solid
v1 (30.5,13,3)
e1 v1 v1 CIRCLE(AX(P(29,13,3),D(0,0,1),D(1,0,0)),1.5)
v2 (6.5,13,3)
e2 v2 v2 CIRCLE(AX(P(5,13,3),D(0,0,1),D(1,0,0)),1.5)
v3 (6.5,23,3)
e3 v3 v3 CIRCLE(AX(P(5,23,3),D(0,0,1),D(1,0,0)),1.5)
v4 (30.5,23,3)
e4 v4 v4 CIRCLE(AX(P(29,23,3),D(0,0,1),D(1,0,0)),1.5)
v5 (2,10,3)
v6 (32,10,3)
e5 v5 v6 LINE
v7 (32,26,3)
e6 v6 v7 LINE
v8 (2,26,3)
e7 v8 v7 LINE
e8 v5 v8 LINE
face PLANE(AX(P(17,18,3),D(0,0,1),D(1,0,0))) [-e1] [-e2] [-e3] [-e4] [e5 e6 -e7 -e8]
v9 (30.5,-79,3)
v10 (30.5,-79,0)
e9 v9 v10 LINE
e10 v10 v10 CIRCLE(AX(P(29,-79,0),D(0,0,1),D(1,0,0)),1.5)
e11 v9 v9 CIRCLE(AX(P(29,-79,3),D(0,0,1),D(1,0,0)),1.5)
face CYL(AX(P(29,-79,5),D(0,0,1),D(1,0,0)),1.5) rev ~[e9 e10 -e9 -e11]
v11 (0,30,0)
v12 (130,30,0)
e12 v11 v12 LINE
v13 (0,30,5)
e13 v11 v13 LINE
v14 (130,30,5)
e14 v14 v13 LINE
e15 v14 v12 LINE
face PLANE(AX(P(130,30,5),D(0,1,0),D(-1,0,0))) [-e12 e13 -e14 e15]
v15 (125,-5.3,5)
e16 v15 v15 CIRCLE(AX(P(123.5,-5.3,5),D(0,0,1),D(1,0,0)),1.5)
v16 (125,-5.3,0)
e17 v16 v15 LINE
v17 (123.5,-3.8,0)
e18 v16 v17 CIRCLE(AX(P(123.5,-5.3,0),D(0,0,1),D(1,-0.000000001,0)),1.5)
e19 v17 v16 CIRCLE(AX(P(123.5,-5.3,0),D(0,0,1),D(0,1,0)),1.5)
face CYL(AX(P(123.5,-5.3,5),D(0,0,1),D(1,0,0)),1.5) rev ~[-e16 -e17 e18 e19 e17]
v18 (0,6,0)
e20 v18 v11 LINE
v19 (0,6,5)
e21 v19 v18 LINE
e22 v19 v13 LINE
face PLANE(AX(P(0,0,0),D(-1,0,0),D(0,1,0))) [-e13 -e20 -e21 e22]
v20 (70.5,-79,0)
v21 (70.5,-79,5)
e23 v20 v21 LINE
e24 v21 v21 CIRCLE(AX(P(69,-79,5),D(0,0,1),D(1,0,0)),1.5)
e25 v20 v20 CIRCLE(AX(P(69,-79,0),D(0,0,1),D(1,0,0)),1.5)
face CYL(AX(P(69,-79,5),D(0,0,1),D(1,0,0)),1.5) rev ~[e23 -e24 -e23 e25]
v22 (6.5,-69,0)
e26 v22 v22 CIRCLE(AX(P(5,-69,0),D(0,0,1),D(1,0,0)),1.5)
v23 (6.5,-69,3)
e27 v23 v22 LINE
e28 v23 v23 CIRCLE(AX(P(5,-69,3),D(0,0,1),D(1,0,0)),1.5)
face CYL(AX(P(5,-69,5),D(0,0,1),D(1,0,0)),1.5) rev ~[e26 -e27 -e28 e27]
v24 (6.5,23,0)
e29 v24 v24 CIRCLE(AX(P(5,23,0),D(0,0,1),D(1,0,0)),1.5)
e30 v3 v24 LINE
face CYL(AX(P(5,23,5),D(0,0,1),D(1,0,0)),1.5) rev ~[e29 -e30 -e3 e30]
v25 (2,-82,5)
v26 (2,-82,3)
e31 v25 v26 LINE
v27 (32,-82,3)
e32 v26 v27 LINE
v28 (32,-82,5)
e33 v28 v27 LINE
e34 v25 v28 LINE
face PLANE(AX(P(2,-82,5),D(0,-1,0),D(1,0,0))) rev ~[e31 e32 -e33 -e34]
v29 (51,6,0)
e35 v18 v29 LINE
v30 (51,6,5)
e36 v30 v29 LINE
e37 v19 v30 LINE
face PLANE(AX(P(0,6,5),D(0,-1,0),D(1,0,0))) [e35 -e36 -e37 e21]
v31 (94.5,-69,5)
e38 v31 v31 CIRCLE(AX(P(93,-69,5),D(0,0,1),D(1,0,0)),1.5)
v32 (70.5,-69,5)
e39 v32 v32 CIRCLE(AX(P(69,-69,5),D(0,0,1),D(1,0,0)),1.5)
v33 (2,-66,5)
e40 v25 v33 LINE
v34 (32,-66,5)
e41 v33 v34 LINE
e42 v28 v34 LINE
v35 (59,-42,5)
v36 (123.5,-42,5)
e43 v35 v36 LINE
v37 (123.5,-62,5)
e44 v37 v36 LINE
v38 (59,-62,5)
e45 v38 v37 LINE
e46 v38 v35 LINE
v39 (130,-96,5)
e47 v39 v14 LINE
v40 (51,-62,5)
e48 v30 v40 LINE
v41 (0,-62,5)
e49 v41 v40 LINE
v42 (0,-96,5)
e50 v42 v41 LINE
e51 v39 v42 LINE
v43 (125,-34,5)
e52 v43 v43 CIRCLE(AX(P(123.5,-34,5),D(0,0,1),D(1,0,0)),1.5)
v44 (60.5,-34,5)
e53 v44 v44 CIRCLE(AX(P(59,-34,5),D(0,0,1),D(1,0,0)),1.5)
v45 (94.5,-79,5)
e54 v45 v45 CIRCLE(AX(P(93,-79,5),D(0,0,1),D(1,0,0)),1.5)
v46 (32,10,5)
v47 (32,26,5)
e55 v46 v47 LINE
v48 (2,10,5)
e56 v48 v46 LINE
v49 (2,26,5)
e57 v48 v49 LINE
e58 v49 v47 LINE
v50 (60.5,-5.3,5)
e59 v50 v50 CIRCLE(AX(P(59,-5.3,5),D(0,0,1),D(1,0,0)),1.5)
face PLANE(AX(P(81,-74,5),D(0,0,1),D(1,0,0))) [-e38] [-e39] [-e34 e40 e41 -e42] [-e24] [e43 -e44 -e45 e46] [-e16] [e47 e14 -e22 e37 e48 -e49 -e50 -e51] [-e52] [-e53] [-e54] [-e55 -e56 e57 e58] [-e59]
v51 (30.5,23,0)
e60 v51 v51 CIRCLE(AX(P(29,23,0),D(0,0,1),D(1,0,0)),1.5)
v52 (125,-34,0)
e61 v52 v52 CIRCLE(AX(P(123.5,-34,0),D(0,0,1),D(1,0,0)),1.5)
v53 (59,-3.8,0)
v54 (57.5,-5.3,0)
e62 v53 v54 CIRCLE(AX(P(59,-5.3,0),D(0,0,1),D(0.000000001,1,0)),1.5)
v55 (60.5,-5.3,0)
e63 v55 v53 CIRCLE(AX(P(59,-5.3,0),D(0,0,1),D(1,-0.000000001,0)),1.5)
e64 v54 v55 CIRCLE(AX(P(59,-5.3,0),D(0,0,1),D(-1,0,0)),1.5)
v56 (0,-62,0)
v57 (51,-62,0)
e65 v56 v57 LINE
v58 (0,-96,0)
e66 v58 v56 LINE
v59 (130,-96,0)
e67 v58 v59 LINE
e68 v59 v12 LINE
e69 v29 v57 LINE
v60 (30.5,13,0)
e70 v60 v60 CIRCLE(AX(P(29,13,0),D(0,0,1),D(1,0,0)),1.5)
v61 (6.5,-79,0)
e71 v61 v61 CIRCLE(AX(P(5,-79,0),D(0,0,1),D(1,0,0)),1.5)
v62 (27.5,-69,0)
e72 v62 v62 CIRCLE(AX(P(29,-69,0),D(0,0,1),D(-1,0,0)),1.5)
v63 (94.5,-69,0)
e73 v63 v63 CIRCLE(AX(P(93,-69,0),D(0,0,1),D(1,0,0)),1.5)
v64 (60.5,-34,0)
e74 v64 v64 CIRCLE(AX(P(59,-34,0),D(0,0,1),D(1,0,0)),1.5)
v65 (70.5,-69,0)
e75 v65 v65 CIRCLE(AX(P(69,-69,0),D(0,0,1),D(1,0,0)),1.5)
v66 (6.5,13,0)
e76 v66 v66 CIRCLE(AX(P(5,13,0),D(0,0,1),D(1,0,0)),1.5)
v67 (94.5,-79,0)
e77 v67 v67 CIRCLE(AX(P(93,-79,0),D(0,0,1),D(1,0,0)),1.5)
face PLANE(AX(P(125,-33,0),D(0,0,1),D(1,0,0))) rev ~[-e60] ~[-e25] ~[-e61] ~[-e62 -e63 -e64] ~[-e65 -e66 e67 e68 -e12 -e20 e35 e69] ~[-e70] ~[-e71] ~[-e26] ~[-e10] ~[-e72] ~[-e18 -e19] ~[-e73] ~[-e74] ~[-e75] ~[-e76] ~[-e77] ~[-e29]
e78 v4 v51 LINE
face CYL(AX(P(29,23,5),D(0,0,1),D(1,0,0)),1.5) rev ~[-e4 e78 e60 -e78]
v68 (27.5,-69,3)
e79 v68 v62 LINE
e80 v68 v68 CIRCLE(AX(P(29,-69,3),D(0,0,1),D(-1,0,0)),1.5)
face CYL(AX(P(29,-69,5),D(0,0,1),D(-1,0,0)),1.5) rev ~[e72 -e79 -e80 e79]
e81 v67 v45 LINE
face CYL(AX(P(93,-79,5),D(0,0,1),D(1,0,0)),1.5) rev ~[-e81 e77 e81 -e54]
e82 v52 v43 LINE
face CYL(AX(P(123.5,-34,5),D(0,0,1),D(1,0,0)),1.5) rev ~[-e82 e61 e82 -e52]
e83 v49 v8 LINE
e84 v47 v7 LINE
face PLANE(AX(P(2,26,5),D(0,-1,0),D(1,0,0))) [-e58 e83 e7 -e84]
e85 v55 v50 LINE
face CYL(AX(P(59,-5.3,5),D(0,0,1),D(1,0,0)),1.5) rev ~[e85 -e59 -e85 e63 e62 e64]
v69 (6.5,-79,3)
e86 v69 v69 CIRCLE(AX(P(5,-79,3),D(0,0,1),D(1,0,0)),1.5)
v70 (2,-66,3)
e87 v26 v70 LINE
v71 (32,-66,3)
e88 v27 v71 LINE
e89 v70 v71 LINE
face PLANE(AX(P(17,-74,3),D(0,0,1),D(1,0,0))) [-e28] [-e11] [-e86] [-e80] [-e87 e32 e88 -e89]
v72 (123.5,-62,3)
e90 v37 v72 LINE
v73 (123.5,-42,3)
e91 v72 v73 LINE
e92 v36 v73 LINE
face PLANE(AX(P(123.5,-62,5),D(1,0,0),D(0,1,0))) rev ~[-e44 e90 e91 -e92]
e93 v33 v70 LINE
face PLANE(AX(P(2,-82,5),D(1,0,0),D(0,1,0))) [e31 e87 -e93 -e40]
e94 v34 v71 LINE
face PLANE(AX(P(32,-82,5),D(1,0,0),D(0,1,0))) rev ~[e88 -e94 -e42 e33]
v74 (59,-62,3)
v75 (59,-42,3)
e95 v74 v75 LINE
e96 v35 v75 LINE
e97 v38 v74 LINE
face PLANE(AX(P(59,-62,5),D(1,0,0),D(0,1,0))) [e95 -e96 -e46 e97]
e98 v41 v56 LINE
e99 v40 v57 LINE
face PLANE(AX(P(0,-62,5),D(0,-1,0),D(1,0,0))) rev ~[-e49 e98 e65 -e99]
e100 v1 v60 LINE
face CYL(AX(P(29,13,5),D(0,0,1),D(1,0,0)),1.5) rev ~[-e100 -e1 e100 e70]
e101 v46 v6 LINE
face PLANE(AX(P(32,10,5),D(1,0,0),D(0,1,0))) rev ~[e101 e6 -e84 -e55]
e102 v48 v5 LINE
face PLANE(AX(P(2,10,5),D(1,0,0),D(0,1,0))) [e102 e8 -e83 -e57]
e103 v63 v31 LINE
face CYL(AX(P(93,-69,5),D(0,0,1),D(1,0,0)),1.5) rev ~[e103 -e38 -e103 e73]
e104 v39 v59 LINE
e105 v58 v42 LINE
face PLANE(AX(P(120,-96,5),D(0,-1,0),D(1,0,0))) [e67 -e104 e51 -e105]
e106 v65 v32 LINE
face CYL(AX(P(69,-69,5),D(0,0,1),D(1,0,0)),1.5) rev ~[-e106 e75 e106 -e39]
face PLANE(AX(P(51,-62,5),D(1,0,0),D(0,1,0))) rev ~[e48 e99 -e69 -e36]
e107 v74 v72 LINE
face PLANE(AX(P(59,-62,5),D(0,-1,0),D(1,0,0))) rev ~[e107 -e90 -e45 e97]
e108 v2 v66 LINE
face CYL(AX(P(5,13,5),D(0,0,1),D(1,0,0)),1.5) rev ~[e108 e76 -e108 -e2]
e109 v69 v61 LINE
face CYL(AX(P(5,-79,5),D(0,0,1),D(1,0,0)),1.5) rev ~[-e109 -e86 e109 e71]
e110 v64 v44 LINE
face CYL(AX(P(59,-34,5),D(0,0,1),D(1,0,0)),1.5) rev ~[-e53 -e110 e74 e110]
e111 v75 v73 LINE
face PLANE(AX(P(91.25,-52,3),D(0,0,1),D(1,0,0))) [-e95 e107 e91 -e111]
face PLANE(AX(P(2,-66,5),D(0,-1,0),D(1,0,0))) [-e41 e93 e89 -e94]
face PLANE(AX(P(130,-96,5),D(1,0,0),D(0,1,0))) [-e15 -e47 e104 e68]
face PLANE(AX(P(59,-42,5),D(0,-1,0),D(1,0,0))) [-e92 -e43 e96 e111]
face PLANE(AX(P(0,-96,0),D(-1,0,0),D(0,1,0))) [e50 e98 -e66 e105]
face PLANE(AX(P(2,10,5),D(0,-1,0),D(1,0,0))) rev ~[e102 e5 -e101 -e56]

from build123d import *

# Parameters (mm, degrees)
EXTRUDE_2_DEPTH      = 5
SKETCH_3_W           = 30
SKETCH_3_H           = 16.1
CUT_EXTRUDE_1_DEPTH  = 2
CUT_EXTRUDE_2_REACH  = 155.704
SKETCH_4_R           = 1.55
CUT_EXTRUDE_3_REACH  = 155.756
SKETCH_5_W           = 32
SKETCH_5_H           = 56
SKETCH_7_W           = 40.5
SKETCH_7_H           = 40.5
EXTRUDE_4_DEPTH      = 2
SKETCH_8_W           = 30.5
SKETCH_8_H           = 16.5
CUT_EXTRUDE_4_DEPTH  = 2
SKETCH_9_R           = 1.55
CUT_EXTRUDE_6_DEPTH  = 154.727030805
SKETCH_10_W          = 60
SKETCH_10_H          = 45
EXTRUDE_5_DEPTH      = 2
SKETCH_11_W          = 60
SKETCH_11_H          = 45
CUT_EXTRUDE_8_DEPTH  = 2
SKETCH_12_W          = 30
SKETCH_12_H          = 16.1
SKETCH_12_W_2        = 30.5
SKETCH_12_H_2        = 16.5
EXTRUDE_6_DEPTH      = 5
SKETCH_13_R          = 1.5
CUT_EXTRUDE_10_DEPTH = 5
SKETCH_14_W          = 30
SKETCH_14_H          = 16
CUT_EXTRUDE_11_DEPTH = 2
SKETCH_15_W          = 53
SKETCH_15_H          = 60
SKETCH_15_W_2        = 49
SKETCH_15_H_2        = 56
CUT_EXTRUDE_12_DEPTH = 5
SKETCH_16_W          = 30
SKETCH_16_H          = 16
CUT_EXTRUDE_13_DEPTH = 2
SKETCH_17_R          = 1.5
CUT_EXTRUDE_15_DEPTH = 154.704261489
EXTRUDE_7_DEPTH      = 5
SKETCH_19_W          = 30
SKETCH_19_H          = 16
EXTRUDE_8_DEPTH      = 5
SKETCH_20_W          = 72
SKETCH_20_H          = 36.7
SKETCH_20_W_2        = 30
SKETCH_20_H_2        = 16
CUT_EXTRUDE_17_DEPTH = 2
SKETCH_21_R          = 1.5
CUT_EXTRUDE_18_DEPTH = 162.632298752
SKETCH_22_R          = 1.5
EXTRUDE_10_DEPTH     = 3
SKETCH_23_R          = 1.5
CUT_EXTRUDE_19_DEPTH = 162.632298752
SKETCH_24_W          = 72
SKETCH_24_H          = 36.7
SKETCH_24_R          = 1.5
EXTRUDE_11_DEPTH     = 5
SKETCH_26_W          = 30
SKETCH_26_H          = 16
SKETCH_26_R          = 1.5
EXTRUDE_12_DEPTH     = 5
SKETCH_27_W          = 51
SKETCH_27_H          = 4
CUT_EXTRUDE_22_DEPTH = 5
SKETCH_29_W          = 64.5
SKETCH_29_H          = 20
CUT_EXTRUDE_24_DEPTH = 2


with BuildPart() as part:
    # 草图1 → 凸台-拉伸2 (new body)
    with BuildSketch(Plane.XY):
        Polygon((0, 0), (0, 30), (120, 30), (120, -96), (0, -96), (0, -56), (45, -56), (45, 0), align=None)
    extrude(amount=EXTRUDE_2_DEPTH)

    # 草图3 → 切除-拉伸1 (cut)
    with BuildSketch(Plane.XY.offset(5)):
        with Locations((17, 10)):
            Rectangle(SKETCH_3_W, SKETCH_3_H)
        with Locations((17, -66)):
            Rectangle(SKETCH_3_W, SKETCH_3_H)
    extrude(amount=-CUT_EXTRUDE_1_DEPTH, mode=Mode.SUBTRACT)

    # 草图4 → 切除-拉伸2 (cut, up to next)
    with BuildSketch(Plane.XY.offset(3), mode=Mode.PRIVATE) as cut_extrude_2_sk1:
        with Locations((29, 15)):
            Circle(SKETCH_4_R)
    cut_extrude_2_tool1 = extrude(cut_extrude_2_sk1.sketch, amount=-CUT_EXTRUDE_2_REACH, mode=Mode.PRIVATE) & part.part
    # 草图4 → 切除-拉伸2 (cut, up to next)
    with BuildSketch(Plane.XY.offset(3), mode=Mode.PRIVATE) as cut_extrude_2_sk2:
        with Locations((29, 5)):
            Circle(SKETCH_4_R)
    cut_extrude_2_tool2 = extrude(cut_extrude_2_sk2.sketch, amount=-CUT_EXTRUDE_2_REACH, mode=Mode.PRIVATE) & part.part
    # 草图4 → 切除-拉伸2 (cut, up to next)
    with BuildSketch(Plane.XY.offset(3), mode=Mode.PRIVATE) as cut_extrude_2_sk3:
        with BuildLine():
            ThreePointArc((5, 16.55), (3.903984489, 16.096015511), (3.45, 15))
            Line((3.45, 15), (5, 15))
            Line((5, 15), (5, 16.55))
        make_face()
    cut_extrude_2_tool3 = extrude(cut_extrude_2_sk3.sketch, amount=-CUT_EXTRUDE_2_REACH, mode=Mode.PRIVATE) & part.part
    # 草图4 → 切除-拉伸2 (cut, up to next)
    with BuildSketch(Plane.XY.offset(3), mode=Mode.PRIVATE) as cut_extrude_2_sk4:
        with BuildLine():
            Line((5, 15), (3.45, 15))
            ThreePointArc((3.45, 15), (5, 13.45), (6.55, 15))
            ThreePointArc((6.55, 15), (6.096015511, 16.096015511), (5, 16.55))
            Line((5, 16.55), (5, 15))
        make_face()
    cut_extrude_2_tool4 = extrude(cut_extrude_2_sk4.sketch, amount=-CUT_EXTRUDE_2_REACH, mode=Mode.PRIVATE) & part.part
    # 草图4 → 切除-拉伸2 (cut, up to next)
    with BuildSketch(Plane.XY.offset(3), mode=Mode.PRIVATE) as cut_extrude_2_sk5:
        with BuildLine():
            ThreePointArc((5, 16.55), (3.903984489, 16.096015511), (3.45, 15))
            Line((3.45, 15), (5, 15))
            Line((5, 15), (5, 16.55))
        make_face()
    cut_extrude_2_tool5 = extrude(cut_extrude_2_sk5.sketch, amount=-CUT_EXTRUDE_2_REACH, mode=Mode.PRIVATE) & part.part
    # 草图4 → 切除-拉伸2 (cut, up to next)
    with BuildSketch(Plane.XY.offset(3), mode=Mode.PRIVATE) as cut_extrude_2_sk6:
        with BuildLine():
            Line((5, 15), (3.45, 15))
            ThreePointArc((3.45, 15), (5, 13.45), (6.55, 15))
            ThreePointArc((6.55, 15), (6.096015511, 16.096015511), (5, 16.55))
            Line((5, 16.55), (5, 15))
        make_face()
    cut_extrude_2_tool6 = extrude(cut_extrude_2_sk6.sketch, amount=-CUT_EXTRUDE_2_REACH, mode=Mode.PRIVATE) & part.part
    # 草图4 → 切除-拉伸2 (cut, up to next)
    with BuildSketch(Plane.XY.offset(3), mode=Mode.PRIVATE) as cut_extrude_2_sk7:
        with Locations((5, 5)):
            Circle(SKETCH_4_R)
    cut_extrude_2_tool7 = extrude(cut_extrude_2_sk7.sketch, amount=-CUT_EXTRUDE_2_REACH, mode=Mode.PRIVATE) & part.part
    # 草图4 → 切除-拉伸2 (cut, up to next)
    with BuildSketch(Plane.XY.offset(3), mode=Mode.PRIVATE) as cut_extrude_2_sk8:
        with Locations((5, -61)):
            Circle(SKETCH_4_R)
    cut_extrude_2_tool8 = extrude(cut_extrude_2_sk8.sketch, amount=-CUT_EXTRUDE_2_REACH, mode=Mode.PRIVATE) & part.part
    # 草图4 → 切除-拉伸2 (cut, up to next)
    with BuildSketch(Plane.XY.offset(3), mode=Mode.PRIVATE) as cut_extrude_2_sk9:
        with Locations((5, -71)):
            Circle(SKETCH_4_R)
    cut_extrude_2_tool9 = extrude(cut_extrude_2_sk9.sketch, amount=-CUT_EXTRUDE_2_REACH, mode=Mode.PRIVATE) & part.part
    # 草图4 → 切除-拉伸2 (cut, up to next)
    with BuildSketch(Plane.XY.offset(3), mode=Mode.PRIVATE) as cut_extrude_2_sk10:
        with Locations((29, -61)):
            Circle(SKETCH_4_R)
    cut_extrude_2_tool10 = extrude(cut_extrude_2_sk10.sketch, amount=-CUT_EXTRUDE_2_REACH, mode=Mode.PRIVATE) & part.part
    # 草图4 → 切除-拉伸2 (cut, up to next)
    with BuildSketch(Plane.XY.offset(3), mode=Mode.PRIVATE) as cut_extrude_2_sk11:
        with Locations((29, -71)):
            Circle(SKETCH_4_R)
    cut_extrude_2_tool11 = extrude(cut_extrude_2_sk11.sketch, amount=-CUT_EXTRUDE_2_REACH, mode=Mode.PRIVATE) & part.part
    add(cut_extrude_2_tool1.solids().sort_by_distance((29, 15, 3))[0], mode=Mode.SUBTRACT)
    add(cut_extrude_2_tool2.solids().sort_by_distance((29, 5, 3))[0], mode=Mode.SUBTRACT)
    add(cut_extrude_2_tool3.solids().sort_by_distance((4.34216, 15.65784, 3))[0], mode=Mode.SUBTRACT)
    add(cut_extrude_2_tool4.solids().sort_by_distance((5.21928, 14.78072, 3))[0], mode=Mode.SUBTRACT)
    add(cut_extrude_2_tool5.solids().sort_by_distance((4.34216, 15.65784, 3))[0], mode=Mode.SUBTRACT)
    add(cut_extrude_2_tool6.solids().sort_by_distance((5.21928, 14.78072, 3))[0], mode=Mode.SUBTRACT)
    add(cut_extrude_2_tool7.solids().sort_by_distance((5, 5, 3))[0], mode=Mode.SUBTRACT)
    add(cut_extrude_2_tool8.solids().sort_by_distance((5, -61, 3))[0], mode=Mode.SUBTRACT)
    add(cut_extrude_2_tool9.solids().sort_by_distance((5, -71, 3))[0], mode=Mode.SUBTRACT)
    add(cut_extrude_2_tool10.solids().sort_by_distance((29, -61, 3))[0], mode=Mode.SUBTRACT)
    add(cut_extrude_2_tool11.solids().sort_by_distance((29, -71, 3))[0], mode=Mode.SUBTRACT)

    # 草图5 → 切除-拉伸3 (cut, up to next)
    with BuildSketch(Plane.XY.offset(5), mode=Mode.PRIVATE) as cut_extrude_3_sk1:
        with Locations((33, -28)):
            Rectangle(SKETCH_5_W, SKETCH_5_H)
    cut_extrude_3_tool1 = extrude(cut_extrude_3_sk1.sketch, amount=-CUT_EXTRUDE_3_REACH, mode=Mode.PRIVATE) & part.part
    add(cut_extrude_3_tool1.solids().sort_by_distance((33, -28, 5))[0], mode=Mode.SUBTRACT)

    # 草图7 → 凸台-拉伸4 (add)
    with BuildSketch(Plane.XY.offset(5)):
        with Locations((79.25, -35.75)):
            Rectangle(SKETCH_7_W, SKETCH_7_H)
    extrude(amount=EXTRUDE_4_DEPTH)

    # 草图8 → 切除-拉伸4 (cut)
    with BuildSketch(Plane.XY.offset(5)):
        with Locations((69.5, -70.5)):
            Rectangle(SKETCH_8_W, SKETCH_8_H)
    extrude(amount=-CUT_EXTRUDE_4_DEPTH, mode=Mode.SUBTRACT)

    # 草图9 → 切除-拉伸6 (cut, through all)
    with BuildSketch(Plane.XY.offset(3)):
        with Locations((81.5, -65.5)):
            Circle(SKETCH_9_R)
        with Locations((57.5, -65.5)):
            Circle(SKETCH_9_R)
        with Locations(Location((57.5, -75.5, 0), (0, 0, 180))):
            Circle(SKETCH_9_R)
        with Locations((81.5, -75.5)):
            Circle(SKETCH_9_R)
    extrude(amount=-CUT_EXTRUDE_6_DEPTH, mode=Mode.SUBTRACT)

    # 草图10 → 凸台-拉伸5 (add)
    with BuildSketch(Plane.XY.offset(7)):
        with Locations((89, -33.5)):
            Rectangle(SKETCH_10_W, SKETCH_10_H)
    extrude(amount=-EXTRUDE_5_DEPTH)

    # 草图11 → 切除-拉伸8 (cut)
    with BuildSketch(Plane.XY.offset(5)):
        with Locations((89, -33.5)):
            Rectangle(SKETCH_11_W, SKETCH_11_H)
    extrude(amount=CUT_EXTRUDE_8_DEPTH, mode=Mode.SUBTRACT)

    # 草图12 → 凸台-拉伸6 (add)
    with BuildSketch(Plane.XY.offset(5)):
        with Locations((17, 10)):
            Rectangle(SKETCH_12_W, SKETCH_12_H)
        with Locations((17, -66)):
            Rectangle(SKETCH_12_W, SKETCH_12_H)
        with Locations((69.5, -70.5)):
            Rectangle(SKETCH_12_W_2, SKETCH_12_H_2)
    extrude(amount=-EXTRUDE_6_DEPTH)

    # 草图13 → 切除-拉伸10 (cut)
    with BuildSketch(Plane.XY.offset(5)):
        with Locations((5, -69)):
            Circle(SKETCH_13_R)
        with Locations((5, -79)):
            Circle(SKETCH_13_R)
        with Locations((29, 13)):
            Circle(SKETCH_13_R)
        with Locations((29, 23)):
            Circle(SKETCH_13_R)
        with Locations((5, 13)):
            Circle(SKETCH_13_R)
        with Locations((29, -79)):
            Circle(SKETCH_13_R)
        with Locations(Location((29, -69, 0), (0, 0, 180))):
            Circle(SKETCH_13_R)
        with Locations((5, 23)):
            Circle(SKETCH_13_R)
    extrude(amount=-CUT_EXTRUDE_10_DEPTH, mode=Mode.SUBTRACT)

    # 草图14 → 切除-拉伸11 (cut)
    with BuildSketch(Plane.XY.offset(5)):
        with Locations((17, 18)):
            Rectangle(SKETCH_14_W, SKETCH_14_H)
        with Locations((17, -74)):
            Rectangle(SKETCH_14_W, SKETCH_14_H)
    extrude(amount=-CUT_EXTRUDE_11_DEPTH, mode=Mode.SUBTRACT)

    # 草图15 → 切除-拉伸12 (cut)
    with BuildSketch(Plane.XY.offset(5)):
        with Locations((24.5, -28)):
            Rectangle(SKETCH_15_W, SKETCH_15_H)
        with Locations((24.5, -28)):
            Rectangle(SKETCH_15_W_2, SKETCH_15_H_2, mode=Mode.SUBTRACT)
    extrude(amount=-CUT_EXTRUDE_12_DEPTH, mode=Mode.SUBTRACT)

    # 草图16 → 切除-拉伸13 (cut)
    with BuildSketch(Plane.XY.offset(5)):
        with Locations((76, -74)):
            Rectangle(SKETCH_16_W, SKETCH_16_H)
    extrude(amount=-CUT_EXTRUDE_13_DEPTH, mode=Mode.SUBTRACT)

    # 草图17 → 切除-拉伸15 (cut, through all)
    with BuildSketch(Plane.XY.offset(3)):
        with Locations((88, -69)):
            Circle(SKETCH_17_R)
        with Locations((88, -79)):
            Circle(SKETCH_17_R)
        with Locations((64, -79)):
            Circle(SKETCH_17_R)
        with Locations((64, -69)):
            Circle(SKETCH_17_R)
    extrude(amount=-CUT_EXTRUDE_15_DEPTH, mode=Mode.SUBTRACT)

    # 草图18 → 凸台-拉伸7 (add)
    with BuildSketch(Plane.XY.offset(5)):
        Polygon((120, 30), (120, -46), (120, -96), (130, -96), (130, 30), align=None)
    extrude(amount=-EXTRUDE_7_DEPTH)

    # 草图19 → 凸台-拉伸8 (add)
    with BuildSketch(Plane.XY.offset(5)):
        with Locations((76, -74)):
            Rectangle(SKETCH_19_W, SKETCH_19_H)
    extrude(amount=-EXTRUDE_8_DEPTH)

    # 草图20 → 切除-拉伸17 (cut)
    with BuildSketch(Plane.XY.offset(5)):
        with Locations((91, -19.65)):
            Rectangle(SKETCH_20_W, SKETCH_20_H)
        with Locations((81, -74)):
            Rectangle(SKETCH_20_W_2, SKETCH_20_H_2)
    extrude(amount=-CUT_EXTRUDE_17_DEPTH, mode=Mode.SUBTRACT)

    # 草图21 → 切除-拉伸18 (cut, through all)
    with BuildSketch(Plane.XY.offset(3)):
        with BuildLine():
            ThreePointArc((60.5, -5.3), (60.060660172, -4.239339828), (59, -3.8))
            Line((59, -3.8), (59, -5.3))
            Line((59, -5.3), (57.5, -5.3))
            ThreePointArc((57.5, -5.3), (59, -6.8), (60.5, -5.3))
        make_face()
        with BuildLine():
            Line((59, -5.3), (59, -3.8))
            ThreePointArc((59, -3.8), (57.939339828, -4.239339828), (57.5, -5.3))
            Line((57.5, -5.3), (59, -5.3))
        make_face()
        with Locations((59, -34)):
            Circle(SKETCH_21_R)
        with Locations((123, -34)):
            Circle(SKETCH_21_R)
        with Locations((123, -5.3)):
            Circle(SKETCH_21_R)
        with Locations((93, -69)):
            Circle(SKETCH_21_R)
        with Locations((69, -79)):
            Circle(SKETCH_21_R)
        with Locations((93, -79)):
            Circle(SKETCH_21_R)
        with Locations((69, -69)):
            Circle(SKETCH_21_R)
    extrude(amount=-CUT_EXTRUDE_18_DEPTH, mode=Mode.SUBTRACT)

    # 草图22 → 凸台-拉伸10 (add)
    with BuildSketch(Plane.XY.offset(3)):
        with Locations((123, -5.3)):
            Circle(SKETCH_22_R)
        with Locations((123, -34)):
            Circle(SKETCH_22_R)
    extrude(amount=-EXTRUDE_10_DEPTH)

    # 草图23 → 切除-拉伸19 (cut, through all)
    with BuildSketch(Plane.XY.offset(3)):
        with BuildLine():
            ThreePointArc((125, -5.3), (124.560660172, -4.239339828), (123.5, -3.8))
            Line((123.5, -3.8), (123.5, -5.3))
            Line((123.5, -5.3), (125, -5.3))
        make_face()
        with BuildLine():
            Line((123.5, -5.3), (123.5, -3.8))
            ThreePointArc((123.5, -3.8), (122.439339828, -6.360660172), (125, -5.3))
            Line((125, -5.3), (123.5, -5.3))
        make_face()
        with Locations((123.5, -34)):
            Circle(SKETCH_23_R)
    extrude(amount=-CUT_EXTRUDE_19_DEPTH, mode=Mode.SUBTRACT)

    # 草图24 → 凸台-拉伸11 (add)
    with BuildSketch(Plane.XY.offset(5)):
        with Locations((91, -19.65)):
            Rectangle(SKETCH_24_W, SKETCH_24_H)
        with Locations((59, -5.3)):
            Circle(SKETCH_24_R, mode=Mode.SUBTRACT)
        with Locations((123.5, -5.3)):
            Circle(SKETCH_24_R, mode=Mode.SUBTRACT)
        with Locations((123.5, -34)):
            Circle(SKETCH_24_R, mode=Mode.SUBTRACT)
        with Locations((59, -34)):
            Circle(SKETCH_24_R, mode=Mode.SUBTRACT)
    extrude(amount=-EXTRUDE_11_DEPTH)

    # 草图26 → 凸台-拉伸12 (add)
    with BuildSketch(Plane.XY.offset(5)):
        with Locations((81, -74)):
            Rectangle(SKETCH_26_W, SKETCH_26_H)
        with Locations((69, -69)):
            Circle(SKETCH_26_R, mode=Mode.SUBTRACT)
        with Locations((69, -79)):
            Circle(SKETCH_26_R, mode=Mode.SUBTRACT)
        with Locations((93, -79)):
            Circle(SKETCH_26_R, mode=Mode.SUBTRACT)
        with Locations((93, -69)):
            Circle(SKETCH_26_R, mode=Mode.SUBTRACT)
    extrude(amount=-EXTRUDE_12_DEPTH)

    # 草图27 → 切除-拉伸22 (cut)
    with BuildSketch(Plane.XY.offset(5)):
        with Locations((25.5, 4)):
            Rectangle(SKETCH_27_W, SKETCH_27_H)
        with Locations((25.5, -60)):
            Rectangle(SKETCH_27_W, SKETCH_27_H)
    extrude(amount=-CUT_EXTRUDE_22_DEPTH, mode=Mode.SUBTRACT)

    # 草图29 → 切除-拉伸24 (cut)
    with BuildSketch(Plane.XY.offset(5)):
        with Locations((91.25, -52)):
            Rectangle(SKETCH_29_W, SKETCH_29_H)
    extrude(amount=-CUT_EXTRUDE_24_DEPTH, mode=Mode.SUBTRACT)


solid = part.part
